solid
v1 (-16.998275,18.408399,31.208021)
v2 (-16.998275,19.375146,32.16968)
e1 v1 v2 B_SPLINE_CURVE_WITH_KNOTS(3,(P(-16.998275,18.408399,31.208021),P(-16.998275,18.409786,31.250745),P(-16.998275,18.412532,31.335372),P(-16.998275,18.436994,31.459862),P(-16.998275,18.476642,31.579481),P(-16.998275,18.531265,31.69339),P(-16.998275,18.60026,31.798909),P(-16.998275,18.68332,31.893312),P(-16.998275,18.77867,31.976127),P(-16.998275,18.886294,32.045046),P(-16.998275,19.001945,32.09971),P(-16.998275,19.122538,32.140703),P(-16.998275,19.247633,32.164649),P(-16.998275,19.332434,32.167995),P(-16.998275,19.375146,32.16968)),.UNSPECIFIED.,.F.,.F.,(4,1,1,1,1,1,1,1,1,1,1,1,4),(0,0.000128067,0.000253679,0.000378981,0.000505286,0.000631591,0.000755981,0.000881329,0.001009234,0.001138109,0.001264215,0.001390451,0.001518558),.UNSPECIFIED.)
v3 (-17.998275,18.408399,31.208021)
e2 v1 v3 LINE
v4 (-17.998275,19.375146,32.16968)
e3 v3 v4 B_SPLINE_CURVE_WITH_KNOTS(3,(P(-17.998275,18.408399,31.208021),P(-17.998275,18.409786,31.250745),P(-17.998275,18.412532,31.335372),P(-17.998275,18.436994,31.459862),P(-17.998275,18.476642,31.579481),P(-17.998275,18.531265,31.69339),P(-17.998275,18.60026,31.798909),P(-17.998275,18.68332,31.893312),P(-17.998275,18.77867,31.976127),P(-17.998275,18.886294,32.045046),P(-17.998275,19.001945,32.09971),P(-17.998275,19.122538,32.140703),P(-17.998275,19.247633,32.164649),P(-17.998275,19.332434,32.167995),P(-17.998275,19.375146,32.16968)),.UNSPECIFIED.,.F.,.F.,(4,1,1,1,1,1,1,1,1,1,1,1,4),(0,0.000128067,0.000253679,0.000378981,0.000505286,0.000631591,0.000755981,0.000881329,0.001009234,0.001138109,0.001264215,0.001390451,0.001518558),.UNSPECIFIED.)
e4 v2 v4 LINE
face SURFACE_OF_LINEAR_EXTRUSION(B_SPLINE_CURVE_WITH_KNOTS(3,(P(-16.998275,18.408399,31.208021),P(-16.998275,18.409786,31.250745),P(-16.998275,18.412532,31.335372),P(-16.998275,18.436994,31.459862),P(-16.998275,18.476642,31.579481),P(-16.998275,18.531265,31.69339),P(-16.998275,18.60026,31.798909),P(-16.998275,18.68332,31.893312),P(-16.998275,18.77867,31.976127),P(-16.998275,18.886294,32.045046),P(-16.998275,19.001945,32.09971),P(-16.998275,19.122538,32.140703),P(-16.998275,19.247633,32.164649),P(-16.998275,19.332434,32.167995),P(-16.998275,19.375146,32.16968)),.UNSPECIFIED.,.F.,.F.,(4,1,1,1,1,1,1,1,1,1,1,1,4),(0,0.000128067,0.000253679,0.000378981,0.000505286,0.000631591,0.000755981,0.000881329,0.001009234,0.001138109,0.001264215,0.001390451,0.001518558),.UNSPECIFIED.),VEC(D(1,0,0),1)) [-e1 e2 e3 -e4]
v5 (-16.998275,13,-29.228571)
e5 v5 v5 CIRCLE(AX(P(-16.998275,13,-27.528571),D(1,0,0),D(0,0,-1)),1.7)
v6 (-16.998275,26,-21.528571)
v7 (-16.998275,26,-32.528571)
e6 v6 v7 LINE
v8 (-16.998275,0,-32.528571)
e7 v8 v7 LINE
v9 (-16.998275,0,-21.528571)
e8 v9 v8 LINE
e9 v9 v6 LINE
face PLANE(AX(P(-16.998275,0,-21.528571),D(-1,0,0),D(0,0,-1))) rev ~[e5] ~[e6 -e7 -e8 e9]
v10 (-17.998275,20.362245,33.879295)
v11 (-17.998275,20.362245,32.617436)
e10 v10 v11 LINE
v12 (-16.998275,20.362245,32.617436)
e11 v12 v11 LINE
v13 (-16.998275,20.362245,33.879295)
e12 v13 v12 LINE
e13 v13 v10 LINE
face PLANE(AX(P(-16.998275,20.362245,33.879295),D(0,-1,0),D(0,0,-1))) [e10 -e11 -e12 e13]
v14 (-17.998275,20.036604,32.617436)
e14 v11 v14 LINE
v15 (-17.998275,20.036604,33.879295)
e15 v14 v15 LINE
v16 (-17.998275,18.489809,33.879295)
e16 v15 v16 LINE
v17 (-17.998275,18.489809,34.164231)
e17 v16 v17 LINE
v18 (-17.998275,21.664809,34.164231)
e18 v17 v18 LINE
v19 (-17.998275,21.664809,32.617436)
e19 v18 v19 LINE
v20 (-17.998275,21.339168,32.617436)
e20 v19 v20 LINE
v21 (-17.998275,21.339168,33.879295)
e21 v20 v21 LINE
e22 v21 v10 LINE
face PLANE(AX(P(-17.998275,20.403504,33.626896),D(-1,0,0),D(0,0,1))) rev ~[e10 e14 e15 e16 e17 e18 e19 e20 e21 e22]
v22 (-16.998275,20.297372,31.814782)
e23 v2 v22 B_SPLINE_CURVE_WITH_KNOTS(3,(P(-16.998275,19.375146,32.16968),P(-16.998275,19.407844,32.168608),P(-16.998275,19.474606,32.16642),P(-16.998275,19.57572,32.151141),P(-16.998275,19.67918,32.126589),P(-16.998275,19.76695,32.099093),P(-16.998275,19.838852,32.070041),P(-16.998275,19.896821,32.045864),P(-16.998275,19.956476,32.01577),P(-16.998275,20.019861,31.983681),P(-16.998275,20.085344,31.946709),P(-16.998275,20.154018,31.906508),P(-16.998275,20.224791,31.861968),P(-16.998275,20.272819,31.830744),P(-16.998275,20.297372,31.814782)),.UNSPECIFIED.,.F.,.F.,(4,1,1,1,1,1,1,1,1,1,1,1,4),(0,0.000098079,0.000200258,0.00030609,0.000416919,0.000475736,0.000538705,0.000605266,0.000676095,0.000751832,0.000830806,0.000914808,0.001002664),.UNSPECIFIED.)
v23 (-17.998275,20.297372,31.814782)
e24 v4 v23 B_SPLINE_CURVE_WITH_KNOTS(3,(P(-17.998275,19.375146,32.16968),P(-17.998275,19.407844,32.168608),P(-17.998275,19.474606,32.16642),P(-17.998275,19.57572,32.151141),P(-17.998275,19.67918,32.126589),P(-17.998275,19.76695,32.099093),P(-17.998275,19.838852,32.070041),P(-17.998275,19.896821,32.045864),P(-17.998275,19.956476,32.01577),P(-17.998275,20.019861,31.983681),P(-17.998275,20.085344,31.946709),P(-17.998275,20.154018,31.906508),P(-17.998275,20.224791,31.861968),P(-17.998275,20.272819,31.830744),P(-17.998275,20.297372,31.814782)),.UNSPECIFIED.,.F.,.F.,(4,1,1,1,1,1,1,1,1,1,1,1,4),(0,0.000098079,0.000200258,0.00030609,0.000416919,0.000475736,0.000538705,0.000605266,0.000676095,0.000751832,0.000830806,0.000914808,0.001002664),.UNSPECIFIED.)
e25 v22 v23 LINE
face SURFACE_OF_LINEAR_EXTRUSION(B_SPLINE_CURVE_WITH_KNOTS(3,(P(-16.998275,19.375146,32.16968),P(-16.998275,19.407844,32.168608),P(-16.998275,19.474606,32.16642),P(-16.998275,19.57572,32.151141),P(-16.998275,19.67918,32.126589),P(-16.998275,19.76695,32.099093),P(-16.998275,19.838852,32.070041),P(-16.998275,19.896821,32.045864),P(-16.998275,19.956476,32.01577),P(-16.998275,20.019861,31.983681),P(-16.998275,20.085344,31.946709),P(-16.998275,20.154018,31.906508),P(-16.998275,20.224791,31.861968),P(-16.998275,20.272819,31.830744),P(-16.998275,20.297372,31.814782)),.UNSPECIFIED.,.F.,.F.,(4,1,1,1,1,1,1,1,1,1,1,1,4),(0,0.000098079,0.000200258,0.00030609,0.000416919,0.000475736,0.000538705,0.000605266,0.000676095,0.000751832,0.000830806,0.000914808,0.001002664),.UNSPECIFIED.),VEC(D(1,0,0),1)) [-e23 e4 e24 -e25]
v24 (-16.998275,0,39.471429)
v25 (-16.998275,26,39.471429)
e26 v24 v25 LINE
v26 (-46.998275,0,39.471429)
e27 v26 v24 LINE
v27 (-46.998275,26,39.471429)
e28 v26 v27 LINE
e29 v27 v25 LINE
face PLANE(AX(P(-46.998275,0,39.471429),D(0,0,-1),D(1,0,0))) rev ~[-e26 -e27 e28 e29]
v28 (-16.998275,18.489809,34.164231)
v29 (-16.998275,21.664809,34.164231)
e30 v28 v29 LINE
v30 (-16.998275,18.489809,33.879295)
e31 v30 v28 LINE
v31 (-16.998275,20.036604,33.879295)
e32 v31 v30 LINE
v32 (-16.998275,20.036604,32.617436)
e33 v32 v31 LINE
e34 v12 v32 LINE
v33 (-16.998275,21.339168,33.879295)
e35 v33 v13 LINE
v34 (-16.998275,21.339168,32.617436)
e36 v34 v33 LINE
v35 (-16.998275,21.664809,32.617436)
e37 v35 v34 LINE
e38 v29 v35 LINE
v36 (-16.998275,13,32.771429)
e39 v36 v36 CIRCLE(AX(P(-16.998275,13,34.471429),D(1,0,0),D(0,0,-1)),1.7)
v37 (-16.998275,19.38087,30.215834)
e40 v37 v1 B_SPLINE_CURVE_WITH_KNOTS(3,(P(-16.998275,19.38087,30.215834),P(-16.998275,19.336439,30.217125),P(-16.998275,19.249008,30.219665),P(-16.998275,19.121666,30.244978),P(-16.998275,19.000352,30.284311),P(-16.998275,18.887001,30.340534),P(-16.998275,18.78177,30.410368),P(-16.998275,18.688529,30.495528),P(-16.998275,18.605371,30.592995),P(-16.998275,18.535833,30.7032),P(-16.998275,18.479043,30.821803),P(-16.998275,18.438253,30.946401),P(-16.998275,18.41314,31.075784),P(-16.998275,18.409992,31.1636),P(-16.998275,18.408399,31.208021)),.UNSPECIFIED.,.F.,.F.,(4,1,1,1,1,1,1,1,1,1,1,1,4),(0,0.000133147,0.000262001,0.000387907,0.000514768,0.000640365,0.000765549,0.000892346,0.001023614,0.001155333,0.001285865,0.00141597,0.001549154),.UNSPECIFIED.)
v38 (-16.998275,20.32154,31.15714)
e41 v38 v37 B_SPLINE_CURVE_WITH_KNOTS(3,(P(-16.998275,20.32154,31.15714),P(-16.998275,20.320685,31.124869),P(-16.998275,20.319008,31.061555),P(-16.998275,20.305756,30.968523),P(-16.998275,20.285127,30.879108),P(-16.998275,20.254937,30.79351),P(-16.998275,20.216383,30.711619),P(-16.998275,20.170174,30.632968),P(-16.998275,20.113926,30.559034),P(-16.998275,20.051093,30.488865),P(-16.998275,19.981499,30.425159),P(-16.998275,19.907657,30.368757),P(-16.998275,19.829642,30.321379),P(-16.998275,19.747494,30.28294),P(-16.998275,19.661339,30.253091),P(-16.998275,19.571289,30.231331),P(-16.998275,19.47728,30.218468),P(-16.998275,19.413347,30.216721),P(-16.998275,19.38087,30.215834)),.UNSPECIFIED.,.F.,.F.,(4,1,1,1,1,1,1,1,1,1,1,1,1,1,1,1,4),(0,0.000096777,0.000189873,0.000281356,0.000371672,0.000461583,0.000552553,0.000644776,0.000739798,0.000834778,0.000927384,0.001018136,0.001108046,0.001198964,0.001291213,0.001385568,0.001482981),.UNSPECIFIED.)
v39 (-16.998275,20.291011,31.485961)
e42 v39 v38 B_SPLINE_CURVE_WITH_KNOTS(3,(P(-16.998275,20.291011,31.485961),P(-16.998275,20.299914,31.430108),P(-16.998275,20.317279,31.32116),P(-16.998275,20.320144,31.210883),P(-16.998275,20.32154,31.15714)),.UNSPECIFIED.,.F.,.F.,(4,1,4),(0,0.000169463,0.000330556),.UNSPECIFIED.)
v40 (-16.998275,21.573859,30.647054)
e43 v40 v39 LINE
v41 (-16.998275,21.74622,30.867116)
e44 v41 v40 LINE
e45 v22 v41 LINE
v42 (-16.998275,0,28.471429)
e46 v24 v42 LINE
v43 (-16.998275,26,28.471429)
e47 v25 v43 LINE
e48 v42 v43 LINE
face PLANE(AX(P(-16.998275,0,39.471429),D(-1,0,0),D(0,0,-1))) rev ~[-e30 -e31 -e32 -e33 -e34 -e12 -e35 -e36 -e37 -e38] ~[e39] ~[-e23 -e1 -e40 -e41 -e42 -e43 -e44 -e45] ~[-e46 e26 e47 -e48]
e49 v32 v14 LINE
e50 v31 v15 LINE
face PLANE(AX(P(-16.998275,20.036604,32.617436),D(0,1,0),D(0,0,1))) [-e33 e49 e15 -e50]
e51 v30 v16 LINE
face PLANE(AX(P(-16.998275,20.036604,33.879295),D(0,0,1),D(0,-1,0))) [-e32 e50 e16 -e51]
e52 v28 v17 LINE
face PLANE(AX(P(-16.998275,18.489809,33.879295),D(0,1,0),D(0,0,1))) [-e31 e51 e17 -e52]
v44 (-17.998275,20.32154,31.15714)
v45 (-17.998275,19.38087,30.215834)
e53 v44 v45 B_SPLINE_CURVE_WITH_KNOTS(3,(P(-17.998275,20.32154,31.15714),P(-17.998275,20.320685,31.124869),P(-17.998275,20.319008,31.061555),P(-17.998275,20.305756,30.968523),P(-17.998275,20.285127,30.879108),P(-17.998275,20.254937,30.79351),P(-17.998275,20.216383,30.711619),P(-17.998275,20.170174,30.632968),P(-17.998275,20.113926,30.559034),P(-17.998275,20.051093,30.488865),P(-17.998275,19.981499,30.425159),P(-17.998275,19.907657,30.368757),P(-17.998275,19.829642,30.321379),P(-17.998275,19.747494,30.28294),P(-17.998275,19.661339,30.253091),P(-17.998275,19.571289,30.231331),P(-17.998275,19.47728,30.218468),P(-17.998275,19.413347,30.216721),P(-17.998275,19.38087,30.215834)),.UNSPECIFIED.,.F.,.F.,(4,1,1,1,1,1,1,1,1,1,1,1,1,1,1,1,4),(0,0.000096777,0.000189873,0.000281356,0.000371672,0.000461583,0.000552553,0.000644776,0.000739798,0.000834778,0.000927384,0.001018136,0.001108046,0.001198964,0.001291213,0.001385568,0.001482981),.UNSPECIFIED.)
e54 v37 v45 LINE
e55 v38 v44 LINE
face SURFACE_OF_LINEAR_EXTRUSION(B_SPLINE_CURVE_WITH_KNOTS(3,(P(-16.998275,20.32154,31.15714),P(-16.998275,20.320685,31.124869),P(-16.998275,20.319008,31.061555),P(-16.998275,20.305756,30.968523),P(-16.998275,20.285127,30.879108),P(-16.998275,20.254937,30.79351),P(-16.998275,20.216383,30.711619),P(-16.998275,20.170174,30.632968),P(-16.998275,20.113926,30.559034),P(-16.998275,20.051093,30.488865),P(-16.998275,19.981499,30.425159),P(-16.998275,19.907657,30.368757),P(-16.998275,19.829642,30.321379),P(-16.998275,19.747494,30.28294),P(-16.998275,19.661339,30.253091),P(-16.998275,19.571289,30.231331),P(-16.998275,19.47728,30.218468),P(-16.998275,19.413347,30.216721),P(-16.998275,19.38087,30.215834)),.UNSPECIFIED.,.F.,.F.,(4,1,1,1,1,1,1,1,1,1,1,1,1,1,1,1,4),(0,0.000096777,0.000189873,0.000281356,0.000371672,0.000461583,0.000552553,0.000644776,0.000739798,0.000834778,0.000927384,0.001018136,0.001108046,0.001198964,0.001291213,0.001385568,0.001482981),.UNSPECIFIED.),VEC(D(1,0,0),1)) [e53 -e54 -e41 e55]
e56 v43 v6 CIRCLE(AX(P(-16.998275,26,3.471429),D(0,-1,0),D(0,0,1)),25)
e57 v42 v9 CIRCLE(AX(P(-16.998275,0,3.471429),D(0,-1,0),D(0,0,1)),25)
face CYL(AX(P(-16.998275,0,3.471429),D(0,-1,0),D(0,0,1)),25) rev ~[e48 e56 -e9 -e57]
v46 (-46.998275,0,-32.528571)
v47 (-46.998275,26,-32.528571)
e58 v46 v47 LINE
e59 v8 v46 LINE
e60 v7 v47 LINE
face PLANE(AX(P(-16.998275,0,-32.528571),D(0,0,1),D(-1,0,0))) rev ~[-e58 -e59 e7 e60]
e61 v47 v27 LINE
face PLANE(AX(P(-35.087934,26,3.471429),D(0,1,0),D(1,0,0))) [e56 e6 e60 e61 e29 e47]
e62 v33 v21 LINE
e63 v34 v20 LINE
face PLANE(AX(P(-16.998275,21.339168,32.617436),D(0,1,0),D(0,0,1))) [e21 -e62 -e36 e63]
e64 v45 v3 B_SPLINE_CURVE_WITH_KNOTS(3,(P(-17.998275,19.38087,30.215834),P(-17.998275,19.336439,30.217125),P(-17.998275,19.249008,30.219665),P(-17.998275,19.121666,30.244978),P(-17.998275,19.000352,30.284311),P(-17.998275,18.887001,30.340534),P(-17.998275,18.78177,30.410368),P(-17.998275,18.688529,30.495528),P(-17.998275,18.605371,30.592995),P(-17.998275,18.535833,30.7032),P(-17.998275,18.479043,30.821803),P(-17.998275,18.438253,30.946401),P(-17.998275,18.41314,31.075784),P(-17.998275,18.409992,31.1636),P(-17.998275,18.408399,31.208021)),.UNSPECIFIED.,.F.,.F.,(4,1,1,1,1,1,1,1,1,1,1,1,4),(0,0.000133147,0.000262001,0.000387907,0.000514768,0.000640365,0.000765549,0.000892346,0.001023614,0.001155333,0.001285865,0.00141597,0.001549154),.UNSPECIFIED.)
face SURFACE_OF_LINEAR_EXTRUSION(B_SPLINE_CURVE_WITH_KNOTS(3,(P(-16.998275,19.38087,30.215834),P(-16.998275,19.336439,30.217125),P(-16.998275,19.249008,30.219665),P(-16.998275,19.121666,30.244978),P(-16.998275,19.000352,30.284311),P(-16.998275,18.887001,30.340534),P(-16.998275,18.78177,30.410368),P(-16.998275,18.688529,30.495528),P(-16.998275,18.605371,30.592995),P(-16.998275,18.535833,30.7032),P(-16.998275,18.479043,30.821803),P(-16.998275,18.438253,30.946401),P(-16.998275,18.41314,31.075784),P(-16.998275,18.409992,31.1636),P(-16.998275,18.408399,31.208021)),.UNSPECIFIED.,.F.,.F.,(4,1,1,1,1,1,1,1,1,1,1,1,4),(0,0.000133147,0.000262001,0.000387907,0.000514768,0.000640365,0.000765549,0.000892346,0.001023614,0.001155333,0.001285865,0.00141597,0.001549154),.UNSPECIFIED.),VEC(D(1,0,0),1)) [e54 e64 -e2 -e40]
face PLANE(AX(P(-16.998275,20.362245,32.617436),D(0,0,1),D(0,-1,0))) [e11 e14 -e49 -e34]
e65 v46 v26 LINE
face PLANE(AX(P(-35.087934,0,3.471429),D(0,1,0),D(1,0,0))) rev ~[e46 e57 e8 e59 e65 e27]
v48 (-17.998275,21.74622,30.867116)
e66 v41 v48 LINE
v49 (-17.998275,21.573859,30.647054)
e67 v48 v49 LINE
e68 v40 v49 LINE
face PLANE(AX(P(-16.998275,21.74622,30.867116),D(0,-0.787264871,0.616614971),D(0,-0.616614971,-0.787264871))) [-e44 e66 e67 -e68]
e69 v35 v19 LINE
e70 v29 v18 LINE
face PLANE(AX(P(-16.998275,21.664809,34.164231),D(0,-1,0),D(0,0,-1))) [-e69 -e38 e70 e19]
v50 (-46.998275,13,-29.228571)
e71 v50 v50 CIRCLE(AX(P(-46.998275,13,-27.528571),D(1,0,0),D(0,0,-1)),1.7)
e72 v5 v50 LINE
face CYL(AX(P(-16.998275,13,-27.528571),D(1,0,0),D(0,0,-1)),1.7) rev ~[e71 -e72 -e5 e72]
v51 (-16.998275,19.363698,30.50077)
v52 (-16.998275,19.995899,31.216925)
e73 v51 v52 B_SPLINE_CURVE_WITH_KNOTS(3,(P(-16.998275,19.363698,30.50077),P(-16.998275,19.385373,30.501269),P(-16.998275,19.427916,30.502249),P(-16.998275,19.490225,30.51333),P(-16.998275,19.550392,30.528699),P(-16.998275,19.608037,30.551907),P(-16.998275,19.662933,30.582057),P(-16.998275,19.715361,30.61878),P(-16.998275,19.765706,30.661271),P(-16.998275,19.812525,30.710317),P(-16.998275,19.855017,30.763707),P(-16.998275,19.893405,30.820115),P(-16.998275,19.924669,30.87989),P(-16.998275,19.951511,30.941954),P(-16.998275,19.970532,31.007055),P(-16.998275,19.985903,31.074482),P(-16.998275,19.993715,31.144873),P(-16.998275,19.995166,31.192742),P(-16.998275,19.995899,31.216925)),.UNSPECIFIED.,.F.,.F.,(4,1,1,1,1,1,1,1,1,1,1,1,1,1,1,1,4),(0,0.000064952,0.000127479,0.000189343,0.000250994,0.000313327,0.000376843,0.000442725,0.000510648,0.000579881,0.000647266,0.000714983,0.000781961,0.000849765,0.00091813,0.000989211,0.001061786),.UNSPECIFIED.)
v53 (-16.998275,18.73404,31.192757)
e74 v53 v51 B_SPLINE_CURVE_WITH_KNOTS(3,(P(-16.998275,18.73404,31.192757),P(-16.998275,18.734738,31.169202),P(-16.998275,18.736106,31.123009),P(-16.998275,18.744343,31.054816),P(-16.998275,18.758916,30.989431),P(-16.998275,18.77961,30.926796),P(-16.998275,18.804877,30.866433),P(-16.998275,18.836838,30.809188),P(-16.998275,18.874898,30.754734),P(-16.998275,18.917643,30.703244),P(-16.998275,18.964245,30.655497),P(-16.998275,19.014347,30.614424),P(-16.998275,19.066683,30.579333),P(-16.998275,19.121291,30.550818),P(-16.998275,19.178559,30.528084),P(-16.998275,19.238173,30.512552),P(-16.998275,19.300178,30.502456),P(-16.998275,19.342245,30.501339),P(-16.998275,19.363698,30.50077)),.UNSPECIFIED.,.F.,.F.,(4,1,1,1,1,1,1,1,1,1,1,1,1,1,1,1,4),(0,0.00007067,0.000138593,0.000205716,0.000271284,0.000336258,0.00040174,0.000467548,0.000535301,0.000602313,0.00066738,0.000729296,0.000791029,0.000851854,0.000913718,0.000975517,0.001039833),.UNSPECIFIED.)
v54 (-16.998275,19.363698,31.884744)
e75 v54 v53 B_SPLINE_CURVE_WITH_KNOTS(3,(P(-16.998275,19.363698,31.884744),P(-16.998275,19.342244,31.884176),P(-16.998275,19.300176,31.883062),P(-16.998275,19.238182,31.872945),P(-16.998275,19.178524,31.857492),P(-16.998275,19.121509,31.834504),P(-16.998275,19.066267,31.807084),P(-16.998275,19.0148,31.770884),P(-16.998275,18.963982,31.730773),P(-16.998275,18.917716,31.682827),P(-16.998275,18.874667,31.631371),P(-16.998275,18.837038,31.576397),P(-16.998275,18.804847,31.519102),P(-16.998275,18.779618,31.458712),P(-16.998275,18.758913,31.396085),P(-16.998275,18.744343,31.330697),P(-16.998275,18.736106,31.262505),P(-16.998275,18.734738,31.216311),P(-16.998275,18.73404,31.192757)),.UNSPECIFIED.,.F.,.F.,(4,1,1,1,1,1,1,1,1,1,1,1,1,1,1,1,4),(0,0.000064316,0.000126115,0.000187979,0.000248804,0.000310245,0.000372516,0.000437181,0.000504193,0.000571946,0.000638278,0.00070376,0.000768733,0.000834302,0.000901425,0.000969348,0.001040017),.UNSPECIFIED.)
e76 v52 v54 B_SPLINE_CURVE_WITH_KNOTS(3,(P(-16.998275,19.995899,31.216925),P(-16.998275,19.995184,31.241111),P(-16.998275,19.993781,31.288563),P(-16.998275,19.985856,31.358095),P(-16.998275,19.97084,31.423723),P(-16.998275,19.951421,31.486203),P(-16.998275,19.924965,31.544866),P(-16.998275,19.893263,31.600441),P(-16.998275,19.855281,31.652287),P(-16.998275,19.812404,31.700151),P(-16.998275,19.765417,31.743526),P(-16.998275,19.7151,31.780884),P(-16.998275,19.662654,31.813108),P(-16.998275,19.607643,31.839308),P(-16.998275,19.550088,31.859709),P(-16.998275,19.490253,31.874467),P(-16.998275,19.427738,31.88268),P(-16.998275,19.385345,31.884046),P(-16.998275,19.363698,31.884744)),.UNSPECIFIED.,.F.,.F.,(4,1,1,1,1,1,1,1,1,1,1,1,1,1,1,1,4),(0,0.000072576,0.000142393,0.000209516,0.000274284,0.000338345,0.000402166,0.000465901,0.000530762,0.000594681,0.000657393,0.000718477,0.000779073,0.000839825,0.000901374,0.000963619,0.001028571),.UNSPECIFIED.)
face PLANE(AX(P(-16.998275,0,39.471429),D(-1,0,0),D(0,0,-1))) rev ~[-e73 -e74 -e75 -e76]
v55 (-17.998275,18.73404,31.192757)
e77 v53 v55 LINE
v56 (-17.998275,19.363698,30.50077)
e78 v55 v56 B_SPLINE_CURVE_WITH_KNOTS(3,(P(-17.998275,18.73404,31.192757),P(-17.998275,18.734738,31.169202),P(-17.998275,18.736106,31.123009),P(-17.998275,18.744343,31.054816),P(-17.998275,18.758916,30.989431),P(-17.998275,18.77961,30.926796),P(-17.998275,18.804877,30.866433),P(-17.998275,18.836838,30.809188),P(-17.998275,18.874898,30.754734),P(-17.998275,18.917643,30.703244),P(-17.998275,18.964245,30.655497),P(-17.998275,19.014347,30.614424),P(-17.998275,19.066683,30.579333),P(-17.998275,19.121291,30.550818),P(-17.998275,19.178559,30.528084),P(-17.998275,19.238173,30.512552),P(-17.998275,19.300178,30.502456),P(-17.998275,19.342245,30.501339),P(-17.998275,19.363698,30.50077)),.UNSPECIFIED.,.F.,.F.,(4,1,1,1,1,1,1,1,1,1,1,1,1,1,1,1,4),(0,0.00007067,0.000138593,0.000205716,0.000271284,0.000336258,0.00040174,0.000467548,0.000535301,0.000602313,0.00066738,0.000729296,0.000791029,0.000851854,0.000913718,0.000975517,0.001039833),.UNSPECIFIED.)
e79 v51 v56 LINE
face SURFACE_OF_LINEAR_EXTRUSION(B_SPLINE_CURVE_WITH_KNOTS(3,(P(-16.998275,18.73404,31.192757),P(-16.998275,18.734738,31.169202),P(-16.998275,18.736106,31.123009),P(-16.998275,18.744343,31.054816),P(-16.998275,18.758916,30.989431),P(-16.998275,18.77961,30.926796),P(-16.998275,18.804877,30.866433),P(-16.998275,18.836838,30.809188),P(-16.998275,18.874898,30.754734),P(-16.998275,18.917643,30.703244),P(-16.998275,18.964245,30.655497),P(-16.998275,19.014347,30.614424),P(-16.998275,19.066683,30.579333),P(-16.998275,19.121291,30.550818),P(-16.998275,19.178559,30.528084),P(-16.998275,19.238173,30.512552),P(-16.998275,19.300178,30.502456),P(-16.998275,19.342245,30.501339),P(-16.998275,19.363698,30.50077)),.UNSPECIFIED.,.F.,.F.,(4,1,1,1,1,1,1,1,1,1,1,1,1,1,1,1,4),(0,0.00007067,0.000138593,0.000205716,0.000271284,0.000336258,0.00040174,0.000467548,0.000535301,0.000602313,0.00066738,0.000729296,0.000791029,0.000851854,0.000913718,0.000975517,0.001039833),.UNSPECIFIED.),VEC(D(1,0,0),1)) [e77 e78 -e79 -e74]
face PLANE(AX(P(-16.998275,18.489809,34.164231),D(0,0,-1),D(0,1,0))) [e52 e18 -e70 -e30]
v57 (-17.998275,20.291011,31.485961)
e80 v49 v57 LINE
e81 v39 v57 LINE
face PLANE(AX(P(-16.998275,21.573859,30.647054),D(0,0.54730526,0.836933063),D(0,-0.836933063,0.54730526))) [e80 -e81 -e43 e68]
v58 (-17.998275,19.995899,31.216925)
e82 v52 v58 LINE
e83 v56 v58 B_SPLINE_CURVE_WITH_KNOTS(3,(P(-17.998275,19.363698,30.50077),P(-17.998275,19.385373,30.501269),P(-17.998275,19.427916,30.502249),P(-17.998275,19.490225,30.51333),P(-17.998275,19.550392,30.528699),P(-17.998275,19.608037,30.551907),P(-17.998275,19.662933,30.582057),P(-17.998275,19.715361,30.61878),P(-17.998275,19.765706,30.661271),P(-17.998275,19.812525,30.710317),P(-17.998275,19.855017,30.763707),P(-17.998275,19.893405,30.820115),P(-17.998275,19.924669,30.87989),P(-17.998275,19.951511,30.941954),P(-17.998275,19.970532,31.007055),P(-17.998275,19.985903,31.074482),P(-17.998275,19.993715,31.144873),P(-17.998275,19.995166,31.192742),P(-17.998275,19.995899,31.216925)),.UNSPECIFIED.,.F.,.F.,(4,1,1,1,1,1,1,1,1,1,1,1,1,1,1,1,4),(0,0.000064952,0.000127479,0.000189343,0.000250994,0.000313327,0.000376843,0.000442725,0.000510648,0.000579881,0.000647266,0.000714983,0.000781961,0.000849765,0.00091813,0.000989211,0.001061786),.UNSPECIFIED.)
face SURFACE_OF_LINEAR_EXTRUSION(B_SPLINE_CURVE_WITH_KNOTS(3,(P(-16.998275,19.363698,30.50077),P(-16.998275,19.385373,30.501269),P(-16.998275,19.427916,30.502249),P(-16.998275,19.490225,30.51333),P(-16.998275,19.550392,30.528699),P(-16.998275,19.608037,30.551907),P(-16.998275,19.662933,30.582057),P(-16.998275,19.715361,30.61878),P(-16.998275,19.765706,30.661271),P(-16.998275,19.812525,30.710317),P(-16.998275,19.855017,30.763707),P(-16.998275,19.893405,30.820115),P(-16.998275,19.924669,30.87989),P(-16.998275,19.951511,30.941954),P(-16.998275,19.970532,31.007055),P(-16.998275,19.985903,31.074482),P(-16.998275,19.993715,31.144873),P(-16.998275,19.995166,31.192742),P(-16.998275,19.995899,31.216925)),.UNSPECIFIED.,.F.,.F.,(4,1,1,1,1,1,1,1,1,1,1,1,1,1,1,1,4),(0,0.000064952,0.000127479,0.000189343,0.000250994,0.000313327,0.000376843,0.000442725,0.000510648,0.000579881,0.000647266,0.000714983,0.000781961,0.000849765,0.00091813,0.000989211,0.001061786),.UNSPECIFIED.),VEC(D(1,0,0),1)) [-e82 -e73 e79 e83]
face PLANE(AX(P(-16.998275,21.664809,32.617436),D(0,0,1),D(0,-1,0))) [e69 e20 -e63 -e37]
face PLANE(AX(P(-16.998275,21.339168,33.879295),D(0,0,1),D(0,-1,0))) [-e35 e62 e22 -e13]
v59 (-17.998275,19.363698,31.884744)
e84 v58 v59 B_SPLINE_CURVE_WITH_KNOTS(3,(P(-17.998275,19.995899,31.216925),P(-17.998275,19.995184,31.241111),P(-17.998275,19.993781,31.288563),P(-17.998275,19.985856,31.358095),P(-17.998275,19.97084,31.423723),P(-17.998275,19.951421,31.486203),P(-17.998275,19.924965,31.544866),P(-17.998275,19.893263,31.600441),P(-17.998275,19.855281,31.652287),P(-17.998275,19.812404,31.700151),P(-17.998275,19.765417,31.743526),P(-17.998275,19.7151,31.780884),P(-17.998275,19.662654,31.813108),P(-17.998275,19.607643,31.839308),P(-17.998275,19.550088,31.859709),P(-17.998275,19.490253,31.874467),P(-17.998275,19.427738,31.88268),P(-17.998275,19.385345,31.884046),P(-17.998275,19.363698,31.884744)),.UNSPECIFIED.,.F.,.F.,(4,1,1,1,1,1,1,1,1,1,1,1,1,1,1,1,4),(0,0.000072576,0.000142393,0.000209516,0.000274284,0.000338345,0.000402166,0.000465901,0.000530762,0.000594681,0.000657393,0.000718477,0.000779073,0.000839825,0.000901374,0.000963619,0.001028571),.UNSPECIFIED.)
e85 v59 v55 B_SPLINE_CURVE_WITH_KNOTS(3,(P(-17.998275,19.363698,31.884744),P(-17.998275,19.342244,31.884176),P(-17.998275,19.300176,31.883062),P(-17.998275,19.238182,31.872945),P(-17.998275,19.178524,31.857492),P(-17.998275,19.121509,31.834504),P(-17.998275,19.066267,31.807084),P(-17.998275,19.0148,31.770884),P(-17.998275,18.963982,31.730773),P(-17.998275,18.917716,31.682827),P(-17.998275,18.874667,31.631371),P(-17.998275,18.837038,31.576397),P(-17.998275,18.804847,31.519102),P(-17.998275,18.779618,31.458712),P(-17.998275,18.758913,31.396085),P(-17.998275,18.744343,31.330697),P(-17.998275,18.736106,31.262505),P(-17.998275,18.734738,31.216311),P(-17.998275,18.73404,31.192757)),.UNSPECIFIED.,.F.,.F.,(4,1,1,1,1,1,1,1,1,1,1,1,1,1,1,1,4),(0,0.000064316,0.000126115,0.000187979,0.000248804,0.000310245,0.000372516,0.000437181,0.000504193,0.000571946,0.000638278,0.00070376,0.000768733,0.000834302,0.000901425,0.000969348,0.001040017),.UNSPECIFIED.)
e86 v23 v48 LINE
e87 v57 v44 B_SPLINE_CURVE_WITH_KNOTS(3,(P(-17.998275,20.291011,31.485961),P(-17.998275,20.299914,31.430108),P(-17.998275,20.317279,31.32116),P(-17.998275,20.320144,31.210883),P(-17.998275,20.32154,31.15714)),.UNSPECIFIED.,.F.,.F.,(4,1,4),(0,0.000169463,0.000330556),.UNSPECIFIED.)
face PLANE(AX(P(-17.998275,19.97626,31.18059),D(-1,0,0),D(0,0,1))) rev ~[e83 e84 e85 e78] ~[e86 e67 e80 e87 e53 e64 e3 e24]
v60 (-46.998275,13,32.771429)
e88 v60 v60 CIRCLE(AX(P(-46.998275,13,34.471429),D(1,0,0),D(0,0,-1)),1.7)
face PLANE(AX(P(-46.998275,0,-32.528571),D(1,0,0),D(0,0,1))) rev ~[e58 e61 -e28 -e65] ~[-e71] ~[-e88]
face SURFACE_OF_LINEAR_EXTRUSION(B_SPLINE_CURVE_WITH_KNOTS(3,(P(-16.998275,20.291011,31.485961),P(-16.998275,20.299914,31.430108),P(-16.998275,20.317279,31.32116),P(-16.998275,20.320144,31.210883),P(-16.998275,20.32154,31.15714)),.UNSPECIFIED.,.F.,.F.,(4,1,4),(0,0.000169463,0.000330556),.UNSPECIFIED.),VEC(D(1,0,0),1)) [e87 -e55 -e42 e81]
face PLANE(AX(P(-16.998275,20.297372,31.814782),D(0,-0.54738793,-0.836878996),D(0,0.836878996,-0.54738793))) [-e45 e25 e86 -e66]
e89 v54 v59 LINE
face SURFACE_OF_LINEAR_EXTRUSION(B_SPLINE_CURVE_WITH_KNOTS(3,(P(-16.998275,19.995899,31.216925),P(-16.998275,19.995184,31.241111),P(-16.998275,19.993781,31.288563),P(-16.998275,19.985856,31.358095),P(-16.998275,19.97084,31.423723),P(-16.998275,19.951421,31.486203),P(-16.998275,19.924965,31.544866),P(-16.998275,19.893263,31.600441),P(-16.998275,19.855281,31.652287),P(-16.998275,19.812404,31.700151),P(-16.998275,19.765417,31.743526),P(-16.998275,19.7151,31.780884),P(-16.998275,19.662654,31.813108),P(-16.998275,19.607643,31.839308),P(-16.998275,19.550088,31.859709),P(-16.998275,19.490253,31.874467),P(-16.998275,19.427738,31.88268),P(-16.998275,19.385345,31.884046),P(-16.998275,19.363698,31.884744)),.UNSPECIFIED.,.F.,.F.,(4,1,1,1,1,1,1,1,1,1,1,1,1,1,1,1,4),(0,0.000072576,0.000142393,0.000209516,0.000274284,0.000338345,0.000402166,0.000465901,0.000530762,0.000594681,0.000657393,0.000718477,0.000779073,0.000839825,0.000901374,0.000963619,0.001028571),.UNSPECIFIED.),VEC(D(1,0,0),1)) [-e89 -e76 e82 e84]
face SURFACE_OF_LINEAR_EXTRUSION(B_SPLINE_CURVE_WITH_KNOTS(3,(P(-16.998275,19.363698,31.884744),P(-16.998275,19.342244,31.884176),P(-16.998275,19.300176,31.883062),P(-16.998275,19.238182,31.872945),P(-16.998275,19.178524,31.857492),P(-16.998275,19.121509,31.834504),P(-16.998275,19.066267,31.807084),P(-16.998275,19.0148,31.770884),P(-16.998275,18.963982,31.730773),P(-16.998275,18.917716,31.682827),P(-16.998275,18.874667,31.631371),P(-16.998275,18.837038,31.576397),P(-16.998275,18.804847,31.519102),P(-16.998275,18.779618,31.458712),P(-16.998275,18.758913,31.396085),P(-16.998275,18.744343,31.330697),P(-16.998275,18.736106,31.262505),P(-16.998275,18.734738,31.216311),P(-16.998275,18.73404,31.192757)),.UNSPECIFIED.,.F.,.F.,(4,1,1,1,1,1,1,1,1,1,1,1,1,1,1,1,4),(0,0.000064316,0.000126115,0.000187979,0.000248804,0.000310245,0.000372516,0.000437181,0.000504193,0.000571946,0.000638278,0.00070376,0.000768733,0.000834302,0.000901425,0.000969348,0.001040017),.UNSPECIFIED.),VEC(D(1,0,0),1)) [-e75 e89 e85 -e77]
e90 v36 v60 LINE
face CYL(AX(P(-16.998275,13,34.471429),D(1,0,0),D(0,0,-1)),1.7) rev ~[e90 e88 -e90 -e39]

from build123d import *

# Parameters (mm, degrees)
BOSS_EXTRUDE1_DEPTH = 26
SKETCH2_R           = 1.7
CUT_EXTRUDE1_DEPTH  = 31
CUT_EXTRUDE2_DEPTH  = 1


with BuildPart() as part:
    # Sketch1 → Boss-Extrude1 (new body)
    with BuildSketch(Plane(origin=(0, 0, 0), x_dir=(1, 0, 0), z_dir=(0, 1, 0))):
        with BuildLine():
            Line((-46.998275301, 32.528571429), (-46.998275301, -39.471428571))
            Line((-46.998275301, -39.471428571), (-16.998275301, -39.471428571))
            Line((-16.998275301, -39.471428571), (-16.998275301, -28.471428571))
            ThreePointArc((-16.998275301, -28.471428571), (-41.998275301, -3.471428571), (-16.998275301, 21.528571429))
            Line((-16.998275301, 21.528571429), (-16.998275301, 32.528571429))
            Line((-16.998275301, 32.528571429), (-46.998275301, 32.528571429))
        make_face()
    extrude(amount=BOSS_EXTRUDE1_DEPTH)

    # Sketch2 → Cut-Extrude1 (cut, through all)
    with BuildSketch(Plane(origin=(-16.998275301, 0, 0), x_dir=(0, 0, -1), z_dir=(1, 0, 0))):
        with Locations((-34.471428571, 13)):
            Circle(SKETCH2_R)
        with Locations((27.528571429, 13)):
            Circle(SKETCH2_R)
    extrude(amount=-CUT_EXTRUDE1_DEPTH, mode=Mode.SUBTRACT)

    # Sketch3 → Cut-Extrude2 (cut)
    with BuildSketch(Plane(origin=(-16.998275301, 0, 0), x_dir=(0, 0, -1), z_dir=(1, 0, 0))):
        Polygon((-34.164231178, 21.664809495), (-32.617436306, 21.664809495), (-32.617436306, 21.33916847), (-33.87929528, 21.33916847), (-33.87929528, 20.362245393), (-32.617436306, 20.362245393), (-32.617436306, 20.036604367), (-33.87929528, 20.036604367), (-33.87929528, 18.489809495), (-34.164231178, 18.489809495), align=None)
        with BuildLine():
            Line((-30.867115793, 21.746219752), (-30.647053694, 21.573858975))
            Line((-30.647053694, 21.573858975), (-31.485960945, 20.291011418))
            add(Edge.make_bspline(
                [(-31.485960945, 20.291011418), (-31.430107908, 20.299913992), (-31.321160245, 20.317279468), (-31.210882608, 20.320144176), (-31.157139832, 20.321540265)],
                knots=[0, 0, 0, 0, 0.000169463, 0.000330556, 0.000330556, 0.000330556, 0.000330556], degree=3))
            add(Edge.make_bspline(
                [(-31.157139832, 20.321540265), (-31.124868872, 20.320685496), (-31.061554556, 20.319008476), (-30.968523034, 20.3057555), (-30.879108327, 20.285127316), (-30.793509908, 20.254936716), (-30.711619139, 20.216383115), (-30.632967755, 20.170173711), (-30.559033768, 20.113925858), (-30.488865205, 20.051092605), (-30.425159193, 19.981499352), (-30.368756629, 19.907656708), (-30.321379468, 19.829641624), (-30.282940267, 19.747493609), (-30.253090842, 19.661339295), (-30.231330621, 19.571288912), (-30.218467705, 19.477280362), (-30.216721009, 19.413346589), (-30.215833742, 19.380870192)],
                knots=[0, 0, 0, 0, 9.6777e-05, 0.000189873, 0.000281356, 0.000371672, 0.000461583, 0.000552553, 0.000644776, 0.000739798, 0.000834778, 0.000927384, 0.001018136, 0.001108046, 0.001198964, 0.001291213, 0.001385568, 0.001482981, 0.001482981, 0.001482981, 0.001482981], degree=3))
            add(Edge.make_bspline(
                [(-30.215833742, 19.380870192), (-30.217124701, 19.336438604), (-30.219665004, 19.249007753), (-30.244977733, 19.121666026), (-30.284311125, 19.00035153), (-30.340533597, 18.887001153), (-30.410367616, 18.781770251), (-30.495528004, 18.68852915), (-30.592994597, 18.60537133), (-30.703200478, 18.535832826), (-30.821803024, 18.479042915), (-30.946400908, 18.438253017), (-31.075784105, 18.413140155), (-31.163599713, 18.409991823), (-31.208021242, 18.408399239)],
                knots=[0, 0, 0, 0, 0.000133147, 0.000262001, 0.000387907, 0.000514768, 0.000640365, 0.000765549, 0.000892346, 0.001023614, 0.001155333, 0.001285865, 0.00141597, 0.001549154, 0.001549154, 0.001549154, 0.001549154], degree=3))
            add(Edge.make_bspline(
                [(-31.208021242, 18.408399239), (-31.250744677, 18.40978554), (-31.335372323, 18.412531559), (-31.459862072, 18.436993517), (-31.579480666, 18.476642103), (-31.693390033, 18.531265056), (-31.798909447, 18.600260421), (-31.893311845, 18.683320489), (-31.976126527, 18.778669789), (-32.045046361, 18.886293533), (-32.09970964, 19.001945137), (-32.140703357, 19.122538129), (-32.164648521, 19.247633112), (-32.167994569, 19.33243386), (-32.169679896, 19.375146034)],
                knots=[0, 0, 0, 0, 0.000128067, 0.000253679, 0.000378981, 0.000505286, 0.000631591, 0.000755981, 0.000881329, 0.001009234, 0.001138109, 0.001264215, 0.001390451, 0.001518558, 0.001518558, 0.001518558, 0.001518558], degree=3))
            add(Edge.make_bspline(
                [(-32.169679896, 19.375146034), (-32.168608156, 19.40784362), (-32.166419869, 19.474605844), (-32.151140508, 19.57571964), (-32.126588873, 19.679180265), (-32.099093149, 19.76695014), (-32.070041346, 19.838851664), (-32.045863685, 19.896821259), (-32.015770131, 19.956475947), (-31.983681421, 20.019861316), (-31.946709119, 20.085343816), (-31.906508494, 20.154017859), (-31.861968096, 20.224791265), (-31.830744092, 20.272819213), (-31.814782059, 20.297371595)],
                knots=[0, 0, 0, 0, 9.8079e-05, 0.000200258, 0.00030609, 0.000416919, 0.000475736, 0.000538705, 0.000605266, 0.000676095, 0.000751832, 0.000830806, 0.000914808, 0.001002664, 0.001002664, 0.001002664, 0.001002664], degree=3))
            Line((-31.814782059, 20.297371595), (-30.867115793, 21.746219752))
        make_face()
        with BuildLine():
            add(Edge.make_bspline(
                [(-31.216925489, 19.995899239), (-31.24111118, 19.995184076), (-31.288563308, 19.993780933), (-31.358094863, 19.985856379), (-31.423723348, 19.970840263), (-31.48620269, 19.95142058), (-31.544865998, 19.924964542), (-31.600440512, 19.893262694), (-31.652286601, 19.855281097), (-31.700151178, 19.812404161), (-31.743525509, 19.765416612), (-31.780883963, 19.71510002), (-31.813107522, 19.662653711), (-31.839307545, 19.607642956), (-31.859709233, 19.550087877), (-31.874466867, 19.490253426), (-31.882679911, 19.427738302), (-31.884046278, 19.385345247), (-31.884743998, 19.363697717)],
                knots=[0, 0, 0, 0, 7.2576e-05, 0.000142393, 0.000209516, 0.000274284, 0.000338345, 0.000402166, 0.000465901, 0.000530762, 0.000594681, 0.000657393, 0.000718477, 0.000779073, 0.000839825, 0.000901374, 0.000963619, 0.001028571, 0.001028571, 0.001028571, 0.001028571], degree=3))
            add(Edge.make_bspline(
                [(-31.884743998, 19.363697717), (-31.884175799, 19.342243806), (-31.883061645, 19.300175882), (-31.872944897, 19.238182483), (-31.857491644, 19.178524316), (-31.834504285, 19.121508938), (-31.807084179, 19.066267278), (-31.770884349, 19.014800269), (-31.730773408, 18.963982062), (-31.68282734, 18.917716442), (-31.631371146, 18.874666504), (-31.576397198, 18.837037988), (-31.519102092, 18.80484696), (-31.458712302, 18.779618321), (-31.396084625, 18.758913432), (-31.330697265, 18.744343376), (-31.262504746, 18.736106042), (-31.216311274, 18.734737895), (-31.192756819, 18.734040265)],
                knots=[0, 0, 0, 0, 6.4316e-05, 0.000126115, 0.000187979, 0.000248804, 0.000310245, 0.000372516, 0.000437181, 0.000504193, 0.000571946, 0.000638278, 0.00070376, 0.000768733, 0.000834302, 0.000901425, 0.000969348, 0.001040017, 0.001040017, 0.001040017, 0.001040017], degree=3))
            add(Edge.make_bspline(
                [(-31.192756819, 18.734040265), (-31.169202402, 18.734737949), (-31.123009006, 18.736106204), (-31.054815938, 18.744342761), (-30.989430606, 18.758915691), (-30.926795559, 18.779610133), (-30.866432975, 18.804877336), (-30.809187978, 18.83683772), (-30.754733922, 18.874897913), (-30.703243949, 18.917642872), (-30.655497448, 18.964245388), (-30.614424488, 19.014346636), (-30.579333269, 19.066683241), (-30.550817971, 19.121291327), (-30.528083799, 19.178558791), (-30.512552183, 19.238173248), (-30.502456328, 19.3001783), (-30.501339303, 19.342244623), (-30.500769639, 19.363697717)],
                knots=[0, 0, 0, 0, 7.067e-05, 0.000138593, 0.000205716, 0.000271284, 0.000336258, 0.00040174, 0.000467548, 0.000535301, 0.000602313, 0.00066738, 0.000729296, 0.000791029, 0.000851854, 0.000913718, 0.000975517, 0.001039833, 0.001039833, 0.001039833, 0.001039833], degree=3))
            add(Edge.make_bspline(
                [(-30.500769639, 19.363697717), (-30.501268834, 19.385373487), (-30.502248592, 19.427915974), (-30.513330193, 19.490225471), (-30.52869938, 19.550391855), (-30.551906718, 19.608037305), (-30.582057489, 19.662933151), (-30.618779885, 19.715361265), (-30.661270923, 19.765705799), (-30.710317034, 19.812524596), (-30.763707476, 19.85501674), (-30.820114642, 19.893405283), (-30.879889589, 19.92466945), (-30.941953816, 19.951510565), (-31.007054871, 19.970532437), (-31.074481667, 19.985903262), (-31.144873114, 19.993714686), (-31.192741951, 19.995166019), (-31.216925489, 19.995899239)],
                knots=[0, 0, 0, 0, 6.4952e-05, 0.000127479, 0.000189343, 0.000250994, 0.000313327, 0.000376843, 0.000442725, 0.000510648, 0.000579881, 0.000647266, 0.000714983, 0.000781961, 0.000849765, 0.00091813, 0.000989211, 0.001061786, 0.001061786, 0.001061786, 0.001061786], degree=3))
        make_face(mode=Mode.SUBTRACT)
    extrude(amount=-CUT_EXTRUDE2_DEPTH, mode=Mode.SUBTRACT)


solid = part.part
